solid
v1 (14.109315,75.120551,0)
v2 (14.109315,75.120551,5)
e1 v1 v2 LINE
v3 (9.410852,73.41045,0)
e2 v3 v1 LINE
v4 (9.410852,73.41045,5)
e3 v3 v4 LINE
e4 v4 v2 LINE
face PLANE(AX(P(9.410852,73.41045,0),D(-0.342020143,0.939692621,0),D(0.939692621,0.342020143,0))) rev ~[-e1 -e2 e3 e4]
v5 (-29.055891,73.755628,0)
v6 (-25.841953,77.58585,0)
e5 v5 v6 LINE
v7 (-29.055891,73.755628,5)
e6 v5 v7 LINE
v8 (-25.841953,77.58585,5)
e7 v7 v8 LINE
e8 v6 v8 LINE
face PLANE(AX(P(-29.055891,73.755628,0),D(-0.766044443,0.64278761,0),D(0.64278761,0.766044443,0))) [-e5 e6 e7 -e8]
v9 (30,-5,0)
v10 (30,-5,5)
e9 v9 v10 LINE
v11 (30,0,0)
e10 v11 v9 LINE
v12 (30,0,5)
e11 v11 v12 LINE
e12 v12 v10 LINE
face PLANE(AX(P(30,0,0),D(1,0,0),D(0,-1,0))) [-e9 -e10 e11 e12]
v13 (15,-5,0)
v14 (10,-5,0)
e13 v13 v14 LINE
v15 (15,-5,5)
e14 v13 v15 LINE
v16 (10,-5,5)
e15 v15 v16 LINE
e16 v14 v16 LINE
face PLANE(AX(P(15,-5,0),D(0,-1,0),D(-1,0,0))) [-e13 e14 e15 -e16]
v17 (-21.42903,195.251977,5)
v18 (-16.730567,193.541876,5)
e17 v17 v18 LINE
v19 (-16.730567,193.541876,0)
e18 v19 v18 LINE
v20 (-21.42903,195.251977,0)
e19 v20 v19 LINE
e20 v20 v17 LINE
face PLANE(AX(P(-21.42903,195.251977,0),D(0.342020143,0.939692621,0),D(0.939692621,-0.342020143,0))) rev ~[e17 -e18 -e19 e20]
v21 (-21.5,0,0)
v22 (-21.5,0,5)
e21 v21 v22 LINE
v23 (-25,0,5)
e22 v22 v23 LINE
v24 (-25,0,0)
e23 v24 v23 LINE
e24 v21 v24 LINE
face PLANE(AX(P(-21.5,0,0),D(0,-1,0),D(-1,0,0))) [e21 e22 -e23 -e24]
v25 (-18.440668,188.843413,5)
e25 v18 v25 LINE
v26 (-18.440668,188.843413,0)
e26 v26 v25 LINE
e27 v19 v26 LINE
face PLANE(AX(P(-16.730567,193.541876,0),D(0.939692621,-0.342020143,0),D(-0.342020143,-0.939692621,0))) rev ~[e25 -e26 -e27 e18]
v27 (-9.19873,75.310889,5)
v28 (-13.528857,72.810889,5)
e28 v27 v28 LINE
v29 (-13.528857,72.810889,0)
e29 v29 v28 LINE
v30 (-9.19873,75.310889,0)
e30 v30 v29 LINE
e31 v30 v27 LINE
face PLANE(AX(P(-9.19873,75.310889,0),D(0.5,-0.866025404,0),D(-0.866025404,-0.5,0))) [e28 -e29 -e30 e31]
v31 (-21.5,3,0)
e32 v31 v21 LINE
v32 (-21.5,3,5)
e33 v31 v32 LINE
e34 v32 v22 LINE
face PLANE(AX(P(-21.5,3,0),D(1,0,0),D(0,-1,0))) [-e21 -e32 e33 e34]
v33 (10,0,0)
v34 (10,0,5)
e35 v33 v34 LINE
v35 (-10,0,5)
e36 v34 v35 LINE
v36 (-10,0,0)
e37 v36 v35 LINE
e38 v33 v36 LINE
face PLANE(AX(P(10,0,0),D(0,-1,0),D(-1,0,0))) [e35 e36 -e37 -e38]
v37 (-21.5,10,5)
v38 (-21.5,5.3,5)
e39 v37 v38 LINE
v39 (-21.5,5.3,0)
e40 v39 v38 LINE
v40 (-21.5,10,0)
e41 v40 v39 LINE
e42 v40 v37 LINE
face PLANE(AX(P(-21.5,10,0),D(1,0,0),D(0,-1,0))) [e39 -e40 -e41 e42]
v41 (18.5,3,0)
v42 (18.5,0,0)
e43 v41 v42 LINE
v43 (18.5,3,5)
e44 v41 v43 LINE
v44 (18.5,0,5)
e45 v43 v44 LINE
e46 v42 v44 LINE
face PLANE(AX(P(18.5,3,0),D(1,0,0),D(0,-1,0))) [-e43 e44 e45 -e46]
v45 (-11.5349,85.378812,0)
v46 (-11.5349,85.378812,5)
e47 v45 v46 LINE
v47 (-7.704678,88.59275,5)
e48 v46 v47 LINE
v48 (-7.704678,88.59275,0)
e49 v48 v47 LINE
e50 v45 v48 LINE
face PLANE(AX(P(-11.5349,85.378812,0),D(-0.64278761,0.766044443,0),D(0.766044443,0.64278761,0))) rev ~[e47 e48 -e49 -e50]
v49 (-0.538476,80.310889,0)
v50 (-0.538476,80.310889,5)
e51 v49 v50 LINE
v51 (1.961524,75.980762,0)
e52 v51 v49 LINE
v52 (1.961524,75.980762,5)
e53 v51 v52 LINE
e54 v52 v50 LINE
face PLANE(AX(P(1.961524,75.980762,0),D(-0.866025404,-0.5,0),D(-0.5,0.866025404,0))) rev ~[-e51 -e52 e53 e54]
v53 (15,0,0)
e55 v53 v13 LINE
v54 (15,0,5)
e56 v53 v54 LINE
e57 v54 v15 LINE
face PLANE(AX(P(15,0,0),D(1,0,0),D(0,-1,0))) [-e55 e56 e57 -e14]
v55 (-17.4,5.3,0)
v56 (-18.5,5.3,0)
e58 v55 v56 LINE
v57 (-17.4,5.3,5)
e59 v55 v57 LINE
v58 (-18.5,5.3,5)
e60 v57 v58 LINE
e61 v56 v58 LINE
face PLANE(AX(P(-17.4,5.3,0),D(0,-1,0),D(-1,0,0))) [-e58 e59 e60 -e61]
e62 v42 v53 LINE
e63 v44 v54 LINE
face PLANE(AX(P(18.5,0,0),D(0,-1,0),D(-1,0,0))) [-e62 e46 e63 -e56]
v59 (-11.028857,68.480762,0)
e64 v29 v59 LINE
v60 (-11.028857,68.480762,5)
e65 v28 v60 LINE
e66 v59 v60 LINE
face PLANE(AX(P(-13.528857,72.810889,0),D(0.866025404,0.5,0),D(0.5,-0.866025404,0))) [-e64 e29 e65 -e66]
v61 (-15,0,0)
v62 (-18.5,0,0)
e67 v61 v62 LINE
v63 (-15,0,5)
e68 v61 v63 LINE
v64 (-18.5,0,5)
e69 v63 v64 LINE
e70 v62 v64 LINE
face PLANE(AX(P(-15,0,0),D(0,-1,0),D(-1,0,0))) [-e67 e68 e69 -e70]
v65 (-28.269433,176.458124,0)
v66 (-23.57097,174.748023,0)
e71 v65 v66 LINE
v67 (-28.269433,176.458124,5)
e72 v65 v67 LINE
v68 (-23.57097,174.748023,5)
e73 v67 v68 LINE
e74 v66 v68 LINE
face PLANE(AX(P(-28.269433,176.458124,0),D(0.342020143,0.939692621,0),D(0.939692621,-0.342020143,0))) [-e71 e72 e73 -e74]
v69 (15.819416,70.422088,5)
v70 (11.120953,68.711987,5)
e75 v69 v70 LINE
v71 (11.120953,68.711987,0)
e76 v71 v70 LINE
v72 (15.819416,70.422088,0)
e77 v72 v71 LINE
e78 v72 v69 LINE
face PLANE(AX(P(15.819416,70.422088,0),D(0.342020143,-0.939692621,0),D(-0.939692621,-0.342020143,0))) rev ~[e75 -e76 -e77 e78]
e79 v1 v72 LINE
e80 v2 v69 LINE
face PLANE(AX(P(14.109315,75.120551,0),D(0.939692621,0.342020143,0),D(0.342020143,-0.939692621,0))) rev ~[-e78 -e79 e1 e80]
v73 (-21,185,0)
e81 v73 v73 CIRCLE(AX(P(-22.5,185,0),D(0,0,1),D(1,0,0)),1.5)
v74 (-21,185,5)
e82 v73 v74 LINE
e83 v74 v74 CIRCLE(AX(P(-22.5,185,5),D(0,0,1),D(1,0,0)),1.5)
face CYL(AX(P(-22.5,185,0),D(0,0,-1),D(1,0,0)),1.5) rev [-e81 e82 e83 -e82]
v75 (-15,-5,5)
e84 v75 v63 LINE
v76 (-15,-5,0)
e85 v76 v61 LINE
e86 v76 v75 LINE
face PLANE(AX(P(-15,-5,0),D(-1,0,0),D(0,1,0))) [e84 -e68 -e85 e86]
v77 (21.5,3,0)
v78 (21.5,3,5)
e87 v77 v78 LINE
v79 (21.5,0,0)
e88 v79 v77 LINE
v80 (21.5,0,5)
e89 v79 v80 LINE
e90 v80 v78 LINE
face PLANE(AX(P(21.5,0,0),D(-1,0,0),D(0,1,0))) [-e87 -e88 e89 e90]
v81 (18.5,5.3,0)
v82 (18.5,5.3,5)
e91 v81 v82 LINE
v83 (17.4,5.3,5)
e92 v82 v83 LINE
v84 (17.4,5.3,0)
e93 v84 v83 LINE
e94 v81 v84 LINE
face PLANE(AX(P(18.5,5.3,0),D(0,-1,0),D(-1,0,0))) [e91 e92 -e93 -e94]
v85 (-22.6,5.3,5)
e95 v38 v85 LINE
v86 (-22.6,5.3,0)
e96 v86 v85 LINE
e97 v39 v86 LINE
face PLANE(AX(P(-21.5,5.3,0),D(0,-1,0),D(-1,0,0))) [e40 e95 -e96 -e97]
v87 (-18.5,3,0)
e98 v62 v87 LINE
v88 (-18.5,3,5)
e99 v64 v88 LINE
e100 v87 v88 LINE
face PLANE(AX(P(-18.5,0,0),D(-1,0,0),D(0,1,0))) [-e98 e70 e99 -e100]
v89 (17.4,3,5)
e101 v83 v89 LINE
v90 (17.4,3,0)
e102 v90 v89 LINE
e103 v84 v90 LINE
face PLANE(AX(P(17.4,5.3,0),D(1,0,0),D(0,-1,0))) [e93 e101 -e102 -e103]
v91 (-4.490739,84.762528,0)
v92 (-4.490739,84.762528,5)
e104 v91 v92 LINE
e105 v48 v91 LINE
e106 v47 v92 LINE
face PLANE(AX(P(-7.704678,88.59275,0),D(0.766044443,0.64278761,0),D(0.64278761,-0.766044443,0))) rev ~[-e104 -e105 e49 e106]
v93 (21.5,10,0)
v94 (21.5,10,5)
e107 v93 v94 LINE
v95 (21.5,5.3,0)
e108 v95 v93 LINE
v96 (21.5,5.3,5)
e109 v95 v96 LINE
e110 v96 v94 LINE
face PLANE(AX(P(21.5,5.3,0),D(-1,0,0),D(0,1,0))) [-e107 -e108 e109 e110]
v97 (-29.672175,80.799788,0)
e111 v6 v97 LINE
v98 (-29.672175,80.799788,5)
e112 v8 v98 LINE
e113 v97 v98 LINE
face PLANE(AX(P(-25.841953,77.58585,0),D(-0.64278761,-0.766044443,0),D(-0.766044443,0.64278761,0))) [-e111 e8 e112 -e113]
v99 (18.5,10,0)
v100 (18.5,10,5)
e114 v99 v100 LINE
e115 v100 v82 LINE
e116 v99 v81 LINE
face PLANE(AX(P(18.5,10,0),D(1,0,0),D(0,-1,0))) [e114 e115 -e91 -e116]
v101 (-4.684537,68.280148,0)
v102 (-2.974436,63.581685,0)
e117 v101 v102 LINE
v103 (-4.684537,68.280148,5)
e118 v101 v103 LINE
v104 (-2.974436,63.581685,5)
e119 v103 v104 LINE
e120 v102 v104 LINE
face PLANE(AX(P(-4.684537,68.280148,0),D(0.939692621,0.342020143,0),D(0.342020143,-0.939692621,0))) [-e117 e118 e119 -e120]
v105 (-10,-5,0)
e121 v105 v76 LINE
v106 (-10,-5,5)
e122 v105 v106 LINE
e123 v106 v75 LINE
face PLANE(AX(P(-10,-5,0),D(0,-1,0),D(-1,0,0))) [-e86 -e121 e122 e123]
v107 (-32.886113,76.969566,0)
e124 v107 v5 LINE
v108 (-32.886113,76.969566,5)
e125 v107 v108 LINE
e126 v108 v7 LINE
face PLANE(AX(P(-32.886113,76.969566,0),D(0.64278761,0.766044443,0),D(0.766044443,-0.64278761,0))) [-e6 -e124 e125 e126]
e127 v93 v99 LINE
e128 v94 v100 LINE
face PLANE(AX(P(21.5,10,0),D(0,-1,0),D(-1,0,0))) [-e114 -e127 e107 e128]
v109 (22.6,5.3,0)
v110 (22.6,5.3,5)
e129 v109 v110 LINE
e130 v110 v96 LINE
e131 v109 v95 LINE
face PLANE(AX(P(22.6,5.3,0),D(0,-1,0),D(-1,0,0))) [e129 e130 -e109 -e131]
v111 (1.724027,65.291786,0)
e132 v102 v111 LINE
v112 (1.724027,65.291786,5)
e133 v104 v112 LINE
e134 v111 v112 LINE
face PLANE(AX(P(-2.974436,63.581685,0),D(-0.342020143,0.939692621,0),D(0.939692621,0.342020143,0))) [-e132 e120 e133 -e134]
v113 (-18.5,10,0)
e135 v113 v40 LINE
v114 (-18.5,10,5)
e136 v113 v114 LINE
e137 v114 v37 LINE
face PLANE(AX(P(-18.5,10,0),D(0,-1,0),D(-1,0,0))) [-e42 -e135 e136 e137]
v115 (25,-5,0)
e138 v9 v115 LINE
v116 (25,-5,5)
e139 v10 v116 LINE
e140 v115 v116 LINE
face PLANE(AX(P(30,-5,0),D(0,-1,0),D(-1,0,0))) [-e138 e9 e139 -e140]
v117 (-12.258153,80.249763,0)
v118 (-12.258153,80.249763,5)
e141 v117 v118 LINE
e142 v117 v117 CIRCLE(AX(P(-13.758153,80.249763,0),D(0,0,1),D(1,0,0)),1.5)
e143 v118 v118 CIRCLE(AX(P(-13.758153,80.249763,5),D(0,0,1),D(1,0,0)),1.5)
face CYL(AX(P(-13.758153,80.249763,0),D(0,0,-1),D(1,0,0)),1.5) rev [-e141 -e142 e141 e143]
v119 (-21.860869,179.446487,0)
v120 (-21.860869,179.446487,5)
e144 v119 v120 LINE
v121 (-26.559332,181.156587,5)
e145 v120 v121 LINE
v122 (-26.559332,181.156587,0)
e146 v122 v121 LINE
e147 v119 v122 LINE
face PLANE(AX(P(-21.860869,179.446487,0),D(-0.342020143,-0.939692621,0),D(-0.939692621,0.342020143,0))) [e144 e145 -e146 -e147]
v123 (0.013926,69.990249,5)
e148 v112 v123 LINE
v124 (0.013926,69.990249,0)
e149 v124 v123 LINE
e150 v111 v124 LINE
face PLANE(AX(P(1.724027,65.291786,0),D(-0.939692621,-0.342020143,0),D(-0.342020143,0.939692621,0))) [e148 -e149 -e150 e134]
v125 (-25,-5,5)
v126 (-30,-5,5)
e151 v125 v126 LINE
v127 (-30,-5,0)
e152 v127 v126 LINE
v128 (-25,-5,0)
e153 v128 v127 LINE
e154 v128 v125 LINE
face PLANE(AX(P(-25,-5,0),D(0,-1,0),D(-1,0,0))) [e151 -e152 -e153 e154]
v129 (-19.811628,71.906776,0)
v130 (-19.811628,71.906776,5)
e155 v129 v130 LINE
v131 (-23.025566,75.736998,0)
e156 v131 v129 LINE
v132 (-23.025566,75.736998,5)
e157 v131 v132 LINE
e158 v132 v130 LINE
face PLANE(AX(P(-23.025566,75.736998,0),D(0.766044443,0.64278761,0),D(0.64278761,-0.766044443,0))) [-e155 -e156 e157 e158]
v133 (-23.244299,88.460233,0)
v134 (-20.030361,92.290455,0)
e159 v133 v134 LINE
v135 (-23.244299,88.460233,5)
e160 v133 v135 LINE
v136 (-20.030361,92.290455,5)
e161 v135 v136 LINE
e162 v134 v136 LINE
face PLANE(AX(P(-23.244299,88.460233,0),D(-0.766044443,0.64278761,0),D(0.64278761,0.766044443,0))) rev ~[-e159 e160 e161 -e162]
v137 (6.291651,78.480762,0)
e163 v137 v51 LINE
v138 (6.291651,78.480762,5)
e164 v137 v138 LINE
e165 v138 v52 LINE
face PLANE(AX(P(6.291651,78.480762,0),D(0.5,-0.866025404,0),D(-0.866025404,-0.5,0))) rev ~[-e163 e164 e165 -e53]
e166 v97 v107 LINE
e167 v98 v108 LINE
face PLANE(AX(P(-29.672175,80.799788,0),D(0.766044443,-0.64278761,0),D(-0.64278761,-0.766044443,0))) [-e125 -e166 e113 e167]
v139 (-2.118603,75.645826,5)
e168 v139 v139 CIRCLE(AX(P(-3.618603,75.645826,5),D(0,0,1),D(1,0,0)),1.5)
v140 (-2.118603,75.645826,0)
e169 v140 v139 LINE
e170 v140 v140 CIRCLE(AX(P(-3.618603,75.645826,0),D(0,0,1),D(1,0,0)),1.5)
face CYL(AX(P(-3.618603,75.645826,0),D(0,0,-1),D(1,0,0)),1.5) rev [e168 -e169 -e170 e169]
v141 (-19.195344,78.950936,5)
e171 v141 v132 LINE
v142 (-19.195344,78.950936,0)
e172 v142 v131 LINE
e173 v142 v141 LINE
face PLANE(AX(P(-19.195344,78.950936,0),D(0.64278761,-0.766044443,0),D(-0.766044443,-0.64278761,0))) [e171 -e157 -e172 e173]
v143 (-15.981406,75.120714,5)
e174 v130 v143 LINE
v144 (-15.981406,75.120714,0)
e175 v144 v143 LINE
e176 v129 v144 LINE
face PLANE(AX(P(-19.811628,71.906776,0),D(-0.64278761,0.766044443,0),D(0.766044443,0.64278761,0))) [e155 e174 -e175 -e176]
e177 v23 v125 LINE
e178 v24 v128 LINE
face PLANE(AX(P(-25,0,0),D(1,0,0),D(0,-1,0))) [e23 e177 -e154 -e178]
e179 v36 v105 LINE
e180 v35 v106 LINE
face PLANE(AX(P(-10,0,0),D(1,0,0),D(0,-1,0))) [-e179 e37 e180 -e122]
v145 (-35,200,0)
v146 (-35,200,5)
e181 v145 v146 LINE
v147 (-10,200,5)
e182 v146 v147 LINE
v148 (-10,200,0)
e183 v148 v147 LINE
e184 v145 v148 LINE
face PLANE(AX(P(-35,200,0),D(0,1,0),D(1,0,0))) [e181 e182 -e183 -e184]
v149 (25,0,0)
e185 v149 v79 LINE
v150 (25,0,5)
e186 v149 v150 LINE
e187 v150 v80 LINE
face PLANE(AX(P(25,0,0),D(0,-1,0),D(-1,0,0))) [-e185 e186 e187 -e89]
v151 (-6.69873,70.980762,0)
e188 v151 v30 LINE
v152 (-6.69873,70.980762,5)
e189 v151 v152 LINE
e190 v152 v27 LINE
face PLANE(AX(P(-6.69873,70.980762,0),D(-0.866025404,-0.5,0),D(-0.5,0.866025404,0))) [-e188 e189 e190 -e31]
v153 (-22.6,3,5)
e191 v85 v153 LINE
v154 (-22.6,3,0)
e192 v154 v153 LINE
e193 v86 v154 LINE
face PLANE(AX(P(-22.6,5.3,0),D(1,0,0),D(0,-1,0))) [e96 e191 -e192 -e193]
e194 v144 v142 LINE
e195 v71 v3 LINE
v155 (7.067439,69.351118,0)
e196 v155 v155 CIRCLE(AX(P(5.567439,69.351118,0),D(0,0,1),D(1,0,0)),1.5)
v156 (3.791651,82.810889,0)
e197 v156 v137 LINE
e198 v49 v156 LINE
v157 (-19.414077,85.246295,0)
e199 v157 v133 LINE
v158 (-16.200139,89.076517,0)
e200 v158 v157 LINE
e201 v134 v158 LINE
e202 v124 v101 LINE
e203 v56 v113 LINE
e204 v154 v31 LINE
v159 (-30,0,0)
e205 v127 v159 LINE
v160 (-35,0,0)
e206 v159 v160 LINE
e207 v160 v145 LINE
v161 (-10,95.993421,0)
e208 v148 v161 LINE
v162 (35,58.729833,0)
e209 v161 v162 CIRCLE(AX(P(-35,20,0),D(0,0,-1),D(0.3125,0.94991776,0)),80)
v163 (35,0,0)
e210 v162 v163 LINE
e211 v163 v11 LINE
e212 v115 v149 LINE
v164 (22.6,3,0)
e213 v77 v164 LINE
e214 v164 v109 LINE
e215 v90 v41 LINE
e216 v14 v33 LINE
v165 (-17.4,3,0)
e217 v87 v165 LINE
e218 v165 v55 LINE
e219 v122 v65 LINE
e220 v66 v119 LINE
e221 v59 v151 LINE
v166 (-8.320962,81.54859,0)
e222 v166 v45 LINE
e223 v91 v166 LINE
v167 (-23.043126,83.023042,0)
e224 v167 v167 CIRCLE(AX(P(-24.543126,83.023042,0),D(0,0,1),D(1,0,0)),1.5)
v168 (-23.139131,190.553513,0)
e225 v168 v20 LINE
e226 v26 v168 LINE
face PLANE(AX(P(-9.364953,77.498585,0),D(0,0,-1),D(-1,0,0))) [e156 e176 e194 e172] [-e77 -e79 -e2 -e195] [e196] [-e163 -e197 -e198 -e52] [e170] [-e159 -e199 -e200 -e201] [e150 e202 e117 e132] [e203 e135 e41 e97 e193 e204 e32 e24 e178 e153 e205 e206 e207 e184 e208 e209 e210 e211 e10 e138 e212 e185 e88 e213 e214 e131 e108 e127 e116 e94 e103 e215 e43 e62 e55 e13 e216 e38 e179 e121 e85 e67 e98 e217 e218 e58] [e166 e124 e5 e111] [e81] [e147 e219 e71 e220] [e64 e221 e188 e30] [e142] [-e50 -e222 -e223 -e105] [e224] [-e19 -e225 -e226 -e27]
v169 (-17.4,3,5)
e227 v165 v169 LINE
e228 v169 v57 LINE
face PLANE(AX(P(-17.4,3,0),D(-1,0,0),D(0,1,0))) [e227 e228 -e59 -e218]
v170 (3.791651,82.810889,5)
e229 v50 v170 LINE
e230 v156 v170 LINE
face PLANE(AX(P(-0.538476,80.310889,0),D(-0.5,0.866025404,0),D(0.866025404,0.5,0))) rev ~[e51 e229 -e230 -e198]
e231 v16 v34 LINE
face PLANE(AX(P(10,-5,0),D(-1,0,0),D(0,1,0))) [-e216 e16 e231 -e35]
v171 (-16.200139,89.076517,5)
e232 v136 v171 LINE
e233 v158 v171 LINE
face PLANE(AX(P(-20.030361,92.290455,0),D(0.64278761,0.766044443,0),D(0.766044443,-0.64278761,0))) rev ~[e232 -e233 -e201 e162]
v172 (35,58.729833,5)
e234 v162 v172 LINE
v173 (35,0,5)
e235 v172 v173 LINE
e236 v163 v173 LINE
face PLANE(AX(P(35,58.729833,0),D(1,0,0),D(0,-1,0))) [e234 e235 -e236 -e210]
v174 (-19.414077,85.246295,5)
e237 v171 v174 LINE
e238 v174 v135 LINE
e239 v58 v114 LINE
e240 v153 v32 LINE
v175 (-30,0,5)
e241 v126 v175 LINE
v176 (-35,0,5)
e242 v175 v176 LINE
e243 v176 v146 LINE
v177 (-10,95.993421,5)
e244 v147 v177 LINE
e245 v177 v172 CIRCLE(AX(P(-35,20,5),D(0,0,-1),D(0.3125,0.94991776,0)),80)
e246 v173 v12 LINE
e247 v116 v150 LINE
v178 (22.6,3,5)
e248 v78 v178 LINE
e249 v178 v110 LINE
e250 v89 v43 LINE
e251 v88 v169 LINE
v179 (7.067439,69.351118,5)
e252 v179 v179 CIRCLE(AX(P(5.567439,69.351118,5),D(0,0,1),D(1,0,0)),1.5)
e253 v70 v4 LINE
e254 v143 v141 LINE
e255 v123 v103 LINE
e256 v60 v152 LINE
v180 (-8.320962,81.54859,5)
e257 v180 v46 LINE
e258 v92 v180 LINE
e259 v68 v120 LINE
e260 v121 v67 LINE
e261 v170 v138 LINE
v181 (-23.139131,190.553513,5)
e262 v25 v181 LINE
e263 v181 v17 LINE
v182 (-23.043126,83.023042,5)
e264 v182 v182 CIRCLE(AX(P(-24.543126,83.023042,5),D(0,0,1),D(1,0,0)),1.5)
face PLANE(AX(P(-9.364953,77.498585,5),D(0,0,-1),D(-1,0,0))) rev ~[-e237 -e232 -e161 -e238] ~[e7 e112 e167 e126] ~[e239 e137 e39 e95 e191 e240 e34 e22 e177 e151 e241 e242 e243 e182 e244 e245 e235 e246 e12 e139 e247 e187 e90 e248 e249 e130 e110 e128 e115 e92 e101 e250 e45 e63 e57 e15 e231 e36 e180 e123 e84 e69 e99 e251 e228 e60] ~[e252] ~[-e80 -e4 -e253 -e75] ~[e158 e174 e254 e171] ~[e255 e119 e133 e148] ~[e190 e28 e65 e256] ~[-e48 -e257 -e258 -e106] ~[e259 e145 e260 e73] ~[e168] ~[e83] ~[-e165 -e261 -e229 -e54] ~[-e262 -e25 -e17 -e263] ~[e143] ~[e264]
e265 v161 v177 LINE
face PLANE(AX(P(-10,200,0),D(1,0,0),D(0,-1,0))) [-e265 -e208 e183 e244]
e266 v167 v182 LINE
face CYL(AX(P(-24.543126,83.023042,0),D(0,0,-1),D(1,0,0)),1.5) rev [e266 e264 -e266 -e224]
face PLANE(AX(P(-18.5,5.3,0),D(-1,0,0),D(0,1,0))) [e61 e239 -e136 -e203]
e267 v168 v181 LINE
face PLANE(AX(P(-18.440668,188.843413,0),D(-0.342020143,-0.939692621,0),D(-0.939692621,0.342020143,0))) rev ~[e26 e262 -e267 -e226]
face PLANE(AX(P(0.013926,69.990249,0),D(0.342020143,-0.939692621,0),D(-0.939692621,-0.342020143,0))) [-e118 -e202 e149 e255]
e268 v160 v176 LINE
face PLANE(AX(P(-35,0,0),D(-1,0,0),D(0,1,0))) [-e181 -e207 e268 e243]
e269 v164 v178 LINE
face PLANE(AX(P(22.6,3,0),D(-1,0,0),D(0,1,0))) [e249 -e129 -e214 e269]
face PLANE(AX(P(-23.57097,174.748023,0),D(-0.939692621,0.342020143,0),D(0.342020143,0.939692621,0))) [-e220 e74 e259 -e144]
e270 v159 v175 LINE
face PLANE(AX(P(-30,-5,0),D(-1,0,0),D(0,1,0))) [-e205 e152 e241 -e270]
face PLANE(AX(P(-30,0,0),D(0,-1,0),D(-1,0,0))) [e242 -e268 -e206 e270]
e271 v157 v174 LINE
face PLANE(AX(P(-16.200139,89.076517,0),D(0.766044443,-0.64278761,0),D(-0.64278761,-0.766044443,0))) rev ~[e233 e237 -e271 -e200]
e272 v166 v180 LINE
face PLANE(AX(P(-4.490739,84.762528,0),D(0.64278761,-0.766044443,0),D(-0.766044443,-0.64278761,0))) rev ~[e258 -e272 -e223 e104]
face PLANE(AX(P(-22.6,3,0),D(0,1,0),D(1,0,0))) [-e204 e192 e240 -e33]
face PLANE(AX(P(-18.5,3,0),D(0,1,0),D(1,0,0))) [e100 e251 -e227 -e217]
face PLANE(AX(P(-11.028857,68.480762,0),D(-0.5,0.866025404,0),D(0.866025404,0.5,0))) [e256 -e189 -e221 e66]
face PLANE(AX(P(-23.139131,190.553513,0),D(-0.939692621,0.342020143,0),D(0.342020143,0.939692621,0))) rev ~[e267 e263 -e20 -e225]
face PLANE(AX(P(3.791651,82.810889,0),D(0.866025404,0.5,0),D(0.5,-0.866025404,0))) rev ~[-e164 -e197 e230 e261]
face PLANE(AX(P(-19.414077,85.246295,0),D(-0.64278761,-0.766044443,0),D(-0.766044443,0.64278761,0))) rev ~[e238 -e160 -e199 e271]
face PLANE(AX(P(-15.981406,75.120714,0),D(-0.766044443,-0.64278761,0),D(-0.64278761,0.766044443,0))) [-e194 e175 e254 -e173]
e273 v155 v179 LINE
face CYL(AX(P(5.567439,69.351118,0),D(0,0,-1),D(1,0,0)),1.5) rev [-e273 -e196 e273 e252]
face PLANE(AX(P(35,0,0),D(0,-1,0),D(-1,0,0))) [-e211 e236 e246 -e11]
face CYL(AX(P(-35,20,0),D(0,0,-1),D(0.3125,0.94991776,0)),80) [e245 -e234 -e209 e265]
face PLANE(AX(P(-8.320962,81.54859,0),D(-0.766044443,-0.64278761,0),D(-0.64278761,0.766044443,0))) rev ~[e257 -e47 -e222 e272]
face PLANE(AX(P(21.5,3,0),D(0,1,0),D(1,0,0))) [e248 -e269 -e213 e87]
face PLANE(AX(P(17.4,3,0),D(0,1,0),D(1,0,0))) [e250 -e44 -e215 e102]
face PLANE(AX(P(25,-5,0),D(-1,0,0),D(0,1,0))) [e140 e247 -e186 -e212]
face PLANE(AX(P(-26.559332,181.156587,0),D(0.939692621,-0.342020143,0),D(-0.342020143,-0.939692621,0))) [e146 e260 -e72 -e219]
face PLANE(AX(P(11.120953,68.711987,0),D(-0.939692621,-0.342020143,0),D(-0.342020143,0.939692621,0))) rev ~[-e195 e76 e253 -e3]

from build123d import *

# Parameters (mm, degrees)
ESQUISSE1_R        = 1.5
BOSS_EXTRU_1_DEPTH = 5


with BuildPart() as part:
    # Esquisse1 → Boss.-Extru.1 (new body)
    with BuildSketch(Plane.XY):
        with BuildLine():
            Line((-21.5, 0), (-25, 0))
            Line((-25, 0), (-25, -5))
            Line((-25, -5), (-30, -5))
            Line((-30, -5), (-30, 0))
            Line((-30, 0), (-35, 0))
            Line((-35, 0), (-35, 200))
            Line((-35, 200), (-10, 200))
            Line((-10, 200), (-10, 95.993420768))
            ThreePointArc((-10, 95.993420768), (16.02346259, 81.616607057), (35, 58.729833462))
            Line((35, 58.729833462), (35, 0))
            Line((35, 0), (30, 0))
            Line((30, 0), (30, -5))
            Line((30, -5), (25, -5))
            Line((25, -5), (25, 0))
            Line((25, 0), (21.5, 0))
            Line((21.5, 0), (21.5, 3))
            Line((21.5, 3), (22.6, 3))
            Line((22.6, 3), (22.6, 5.3))
            Line((22.6, 5.3), (21.5, 5.3))
            Line((21.5, 5.3), (21.5, 10))
            Line((21.5, 10), (18.5, 10))
            Line((18.5, 10), (18.5, 5.3))
            Line((18.5, 5.3), (17.4, 5.3))
            Line((17.4, 5.3), (17.4, 3))
            Line((17.4, 3), (18.5, 3))
            Line((18.5, 3), (18.5, 0))
            Line((18.5, 0), (15, 0))
            Line((15, 0), (15, -5))
            Line((15, -5), (10, -5))
            Line((10, -5), (10, 0))
            Line((10, 0), (-10, 0))
            Line((-10, 0), (-10, -5))
            Line((-10, -5), (-15, -5))
            Line((-15, -5), (-15, 0))
            Line((-15, 0), (-18.5, 0))
            Line((-18.5, 0), (-18.5, 3))
            Line((-18.5, 3), (-17.4, 3))
            Line((-17.4, 3), (-17.4, 5.3))
            Line((-17.4, 5.3), (-18.5, 5.3))
            Line((-18.5, 5.3), (-18.5, 10))
            Line((-18.5, 10), (-21.5, 10))
            Line((-21.5, 10), (-21.5, 5.3))
            Line((-21.5, 5.3), (-22.6, 5.3))
            Line((-22.6, 5.3), (-22.6, 3))
            Line((-22.6, 3), (-21.5, 3))
            Line((-21.5, 3), (-21.5, 0))
        make_face()
        with Locations((-24.543125869, 83.023041686)):
            Circle(ESQUISSE1_R, mode=Mode.SUBTRACT)
        with Locations((-13.758152943, 80.249762934)):
            Circle(ESQUISSE1_R, mode=Mode.SUBTRACT)
        with Locations((-3.618602792, 75.645825623)):
            Circle(ESQUISSE1_R, mode=Mode.SUBTRACT)
        with Locations((5.567439485, 69.351118058)):
            Circle(ESQUISSE1_R, mode=Mode.SUBTRACT)
        with Locations((-22.5, 185)):
            Circle(ESQUISSE1_R, mode=Mode.SUBTRACT)
        Polygon((-29.672175025, 80.799788495), (-32.886113073, 76.969566279), (-29.055890858, 73.755628231), (-25.841952809, 77.585850447), align=None, mode=Mode.SUBTRACT)
        Polygon((-23.244298928, 88.460232926), (-20.03036088, 92.290455142), (-16.200138664, 89.076517093), (-19.414076712, 85.246294878), align=None, mode=Mode.SUBTRACT)
        Polygon((-19.195344183, 78.950935993), (-23.025566399, 75.736997945), (-19.81162835, 71.906775729), (-15.981406135, 75.120713778), align=None, mode=Mode.SUBTRACT)
        Polygon((-11.534899752, 85.37881209), (-7.704677536, 88.592750139), (-4.490739488, 84.762527923), (-8.320961703, 81.548589875), align=None, mode=Mode.SUBTRACT)
        Polygon((-9.198729811, 75.310889132), (-13.52885683, 72.810889132), (-11.02885683, 68.480762114), (-6.698729811, 70.980762114), align=None, mode=Mode.SUBTRACT)
        Polygon((-0.538475773, 80.310889132), (3.791651246, 82.810889132), (6.291651246, 78.480762114), (1.961524227, 75.980762114), align=None, mode=Mode.SUBTRACT)
        Polygon((0.013926023, 69.990248894), (-4.684537081, 68.280148177), (-2.974436364, 63.581685073), (1.72402674, 65.29178579), align=None, mode=Mode.SUBTRACT)
        Polygon((9.410852231, 73.410450327), (14.109315335, 75.120551044), (15.819416051, 70.42208794), (11.120952947, 68.711987223), align=None, mode=Mode.SUBTRACT)
        Polygon((-26.559332269, 181.156587254), (-28.269432985, 176.45812415), (-23.570969881, 174.748023434), (-21.860869165, 179.446486538), align=None, mode=Mode.SUBTRACT)
        Polygon((-23.139130835, 190.553513462), (-21.429030119, 195.251976566), (-16.730567015, 193.54187585), (-18.440667731, 188.843412746), align=None, mode=Mode.SUBTRACT)
    extrude(amount=BOSS_EXTRU_1_DEPTH)


solid = part.part
